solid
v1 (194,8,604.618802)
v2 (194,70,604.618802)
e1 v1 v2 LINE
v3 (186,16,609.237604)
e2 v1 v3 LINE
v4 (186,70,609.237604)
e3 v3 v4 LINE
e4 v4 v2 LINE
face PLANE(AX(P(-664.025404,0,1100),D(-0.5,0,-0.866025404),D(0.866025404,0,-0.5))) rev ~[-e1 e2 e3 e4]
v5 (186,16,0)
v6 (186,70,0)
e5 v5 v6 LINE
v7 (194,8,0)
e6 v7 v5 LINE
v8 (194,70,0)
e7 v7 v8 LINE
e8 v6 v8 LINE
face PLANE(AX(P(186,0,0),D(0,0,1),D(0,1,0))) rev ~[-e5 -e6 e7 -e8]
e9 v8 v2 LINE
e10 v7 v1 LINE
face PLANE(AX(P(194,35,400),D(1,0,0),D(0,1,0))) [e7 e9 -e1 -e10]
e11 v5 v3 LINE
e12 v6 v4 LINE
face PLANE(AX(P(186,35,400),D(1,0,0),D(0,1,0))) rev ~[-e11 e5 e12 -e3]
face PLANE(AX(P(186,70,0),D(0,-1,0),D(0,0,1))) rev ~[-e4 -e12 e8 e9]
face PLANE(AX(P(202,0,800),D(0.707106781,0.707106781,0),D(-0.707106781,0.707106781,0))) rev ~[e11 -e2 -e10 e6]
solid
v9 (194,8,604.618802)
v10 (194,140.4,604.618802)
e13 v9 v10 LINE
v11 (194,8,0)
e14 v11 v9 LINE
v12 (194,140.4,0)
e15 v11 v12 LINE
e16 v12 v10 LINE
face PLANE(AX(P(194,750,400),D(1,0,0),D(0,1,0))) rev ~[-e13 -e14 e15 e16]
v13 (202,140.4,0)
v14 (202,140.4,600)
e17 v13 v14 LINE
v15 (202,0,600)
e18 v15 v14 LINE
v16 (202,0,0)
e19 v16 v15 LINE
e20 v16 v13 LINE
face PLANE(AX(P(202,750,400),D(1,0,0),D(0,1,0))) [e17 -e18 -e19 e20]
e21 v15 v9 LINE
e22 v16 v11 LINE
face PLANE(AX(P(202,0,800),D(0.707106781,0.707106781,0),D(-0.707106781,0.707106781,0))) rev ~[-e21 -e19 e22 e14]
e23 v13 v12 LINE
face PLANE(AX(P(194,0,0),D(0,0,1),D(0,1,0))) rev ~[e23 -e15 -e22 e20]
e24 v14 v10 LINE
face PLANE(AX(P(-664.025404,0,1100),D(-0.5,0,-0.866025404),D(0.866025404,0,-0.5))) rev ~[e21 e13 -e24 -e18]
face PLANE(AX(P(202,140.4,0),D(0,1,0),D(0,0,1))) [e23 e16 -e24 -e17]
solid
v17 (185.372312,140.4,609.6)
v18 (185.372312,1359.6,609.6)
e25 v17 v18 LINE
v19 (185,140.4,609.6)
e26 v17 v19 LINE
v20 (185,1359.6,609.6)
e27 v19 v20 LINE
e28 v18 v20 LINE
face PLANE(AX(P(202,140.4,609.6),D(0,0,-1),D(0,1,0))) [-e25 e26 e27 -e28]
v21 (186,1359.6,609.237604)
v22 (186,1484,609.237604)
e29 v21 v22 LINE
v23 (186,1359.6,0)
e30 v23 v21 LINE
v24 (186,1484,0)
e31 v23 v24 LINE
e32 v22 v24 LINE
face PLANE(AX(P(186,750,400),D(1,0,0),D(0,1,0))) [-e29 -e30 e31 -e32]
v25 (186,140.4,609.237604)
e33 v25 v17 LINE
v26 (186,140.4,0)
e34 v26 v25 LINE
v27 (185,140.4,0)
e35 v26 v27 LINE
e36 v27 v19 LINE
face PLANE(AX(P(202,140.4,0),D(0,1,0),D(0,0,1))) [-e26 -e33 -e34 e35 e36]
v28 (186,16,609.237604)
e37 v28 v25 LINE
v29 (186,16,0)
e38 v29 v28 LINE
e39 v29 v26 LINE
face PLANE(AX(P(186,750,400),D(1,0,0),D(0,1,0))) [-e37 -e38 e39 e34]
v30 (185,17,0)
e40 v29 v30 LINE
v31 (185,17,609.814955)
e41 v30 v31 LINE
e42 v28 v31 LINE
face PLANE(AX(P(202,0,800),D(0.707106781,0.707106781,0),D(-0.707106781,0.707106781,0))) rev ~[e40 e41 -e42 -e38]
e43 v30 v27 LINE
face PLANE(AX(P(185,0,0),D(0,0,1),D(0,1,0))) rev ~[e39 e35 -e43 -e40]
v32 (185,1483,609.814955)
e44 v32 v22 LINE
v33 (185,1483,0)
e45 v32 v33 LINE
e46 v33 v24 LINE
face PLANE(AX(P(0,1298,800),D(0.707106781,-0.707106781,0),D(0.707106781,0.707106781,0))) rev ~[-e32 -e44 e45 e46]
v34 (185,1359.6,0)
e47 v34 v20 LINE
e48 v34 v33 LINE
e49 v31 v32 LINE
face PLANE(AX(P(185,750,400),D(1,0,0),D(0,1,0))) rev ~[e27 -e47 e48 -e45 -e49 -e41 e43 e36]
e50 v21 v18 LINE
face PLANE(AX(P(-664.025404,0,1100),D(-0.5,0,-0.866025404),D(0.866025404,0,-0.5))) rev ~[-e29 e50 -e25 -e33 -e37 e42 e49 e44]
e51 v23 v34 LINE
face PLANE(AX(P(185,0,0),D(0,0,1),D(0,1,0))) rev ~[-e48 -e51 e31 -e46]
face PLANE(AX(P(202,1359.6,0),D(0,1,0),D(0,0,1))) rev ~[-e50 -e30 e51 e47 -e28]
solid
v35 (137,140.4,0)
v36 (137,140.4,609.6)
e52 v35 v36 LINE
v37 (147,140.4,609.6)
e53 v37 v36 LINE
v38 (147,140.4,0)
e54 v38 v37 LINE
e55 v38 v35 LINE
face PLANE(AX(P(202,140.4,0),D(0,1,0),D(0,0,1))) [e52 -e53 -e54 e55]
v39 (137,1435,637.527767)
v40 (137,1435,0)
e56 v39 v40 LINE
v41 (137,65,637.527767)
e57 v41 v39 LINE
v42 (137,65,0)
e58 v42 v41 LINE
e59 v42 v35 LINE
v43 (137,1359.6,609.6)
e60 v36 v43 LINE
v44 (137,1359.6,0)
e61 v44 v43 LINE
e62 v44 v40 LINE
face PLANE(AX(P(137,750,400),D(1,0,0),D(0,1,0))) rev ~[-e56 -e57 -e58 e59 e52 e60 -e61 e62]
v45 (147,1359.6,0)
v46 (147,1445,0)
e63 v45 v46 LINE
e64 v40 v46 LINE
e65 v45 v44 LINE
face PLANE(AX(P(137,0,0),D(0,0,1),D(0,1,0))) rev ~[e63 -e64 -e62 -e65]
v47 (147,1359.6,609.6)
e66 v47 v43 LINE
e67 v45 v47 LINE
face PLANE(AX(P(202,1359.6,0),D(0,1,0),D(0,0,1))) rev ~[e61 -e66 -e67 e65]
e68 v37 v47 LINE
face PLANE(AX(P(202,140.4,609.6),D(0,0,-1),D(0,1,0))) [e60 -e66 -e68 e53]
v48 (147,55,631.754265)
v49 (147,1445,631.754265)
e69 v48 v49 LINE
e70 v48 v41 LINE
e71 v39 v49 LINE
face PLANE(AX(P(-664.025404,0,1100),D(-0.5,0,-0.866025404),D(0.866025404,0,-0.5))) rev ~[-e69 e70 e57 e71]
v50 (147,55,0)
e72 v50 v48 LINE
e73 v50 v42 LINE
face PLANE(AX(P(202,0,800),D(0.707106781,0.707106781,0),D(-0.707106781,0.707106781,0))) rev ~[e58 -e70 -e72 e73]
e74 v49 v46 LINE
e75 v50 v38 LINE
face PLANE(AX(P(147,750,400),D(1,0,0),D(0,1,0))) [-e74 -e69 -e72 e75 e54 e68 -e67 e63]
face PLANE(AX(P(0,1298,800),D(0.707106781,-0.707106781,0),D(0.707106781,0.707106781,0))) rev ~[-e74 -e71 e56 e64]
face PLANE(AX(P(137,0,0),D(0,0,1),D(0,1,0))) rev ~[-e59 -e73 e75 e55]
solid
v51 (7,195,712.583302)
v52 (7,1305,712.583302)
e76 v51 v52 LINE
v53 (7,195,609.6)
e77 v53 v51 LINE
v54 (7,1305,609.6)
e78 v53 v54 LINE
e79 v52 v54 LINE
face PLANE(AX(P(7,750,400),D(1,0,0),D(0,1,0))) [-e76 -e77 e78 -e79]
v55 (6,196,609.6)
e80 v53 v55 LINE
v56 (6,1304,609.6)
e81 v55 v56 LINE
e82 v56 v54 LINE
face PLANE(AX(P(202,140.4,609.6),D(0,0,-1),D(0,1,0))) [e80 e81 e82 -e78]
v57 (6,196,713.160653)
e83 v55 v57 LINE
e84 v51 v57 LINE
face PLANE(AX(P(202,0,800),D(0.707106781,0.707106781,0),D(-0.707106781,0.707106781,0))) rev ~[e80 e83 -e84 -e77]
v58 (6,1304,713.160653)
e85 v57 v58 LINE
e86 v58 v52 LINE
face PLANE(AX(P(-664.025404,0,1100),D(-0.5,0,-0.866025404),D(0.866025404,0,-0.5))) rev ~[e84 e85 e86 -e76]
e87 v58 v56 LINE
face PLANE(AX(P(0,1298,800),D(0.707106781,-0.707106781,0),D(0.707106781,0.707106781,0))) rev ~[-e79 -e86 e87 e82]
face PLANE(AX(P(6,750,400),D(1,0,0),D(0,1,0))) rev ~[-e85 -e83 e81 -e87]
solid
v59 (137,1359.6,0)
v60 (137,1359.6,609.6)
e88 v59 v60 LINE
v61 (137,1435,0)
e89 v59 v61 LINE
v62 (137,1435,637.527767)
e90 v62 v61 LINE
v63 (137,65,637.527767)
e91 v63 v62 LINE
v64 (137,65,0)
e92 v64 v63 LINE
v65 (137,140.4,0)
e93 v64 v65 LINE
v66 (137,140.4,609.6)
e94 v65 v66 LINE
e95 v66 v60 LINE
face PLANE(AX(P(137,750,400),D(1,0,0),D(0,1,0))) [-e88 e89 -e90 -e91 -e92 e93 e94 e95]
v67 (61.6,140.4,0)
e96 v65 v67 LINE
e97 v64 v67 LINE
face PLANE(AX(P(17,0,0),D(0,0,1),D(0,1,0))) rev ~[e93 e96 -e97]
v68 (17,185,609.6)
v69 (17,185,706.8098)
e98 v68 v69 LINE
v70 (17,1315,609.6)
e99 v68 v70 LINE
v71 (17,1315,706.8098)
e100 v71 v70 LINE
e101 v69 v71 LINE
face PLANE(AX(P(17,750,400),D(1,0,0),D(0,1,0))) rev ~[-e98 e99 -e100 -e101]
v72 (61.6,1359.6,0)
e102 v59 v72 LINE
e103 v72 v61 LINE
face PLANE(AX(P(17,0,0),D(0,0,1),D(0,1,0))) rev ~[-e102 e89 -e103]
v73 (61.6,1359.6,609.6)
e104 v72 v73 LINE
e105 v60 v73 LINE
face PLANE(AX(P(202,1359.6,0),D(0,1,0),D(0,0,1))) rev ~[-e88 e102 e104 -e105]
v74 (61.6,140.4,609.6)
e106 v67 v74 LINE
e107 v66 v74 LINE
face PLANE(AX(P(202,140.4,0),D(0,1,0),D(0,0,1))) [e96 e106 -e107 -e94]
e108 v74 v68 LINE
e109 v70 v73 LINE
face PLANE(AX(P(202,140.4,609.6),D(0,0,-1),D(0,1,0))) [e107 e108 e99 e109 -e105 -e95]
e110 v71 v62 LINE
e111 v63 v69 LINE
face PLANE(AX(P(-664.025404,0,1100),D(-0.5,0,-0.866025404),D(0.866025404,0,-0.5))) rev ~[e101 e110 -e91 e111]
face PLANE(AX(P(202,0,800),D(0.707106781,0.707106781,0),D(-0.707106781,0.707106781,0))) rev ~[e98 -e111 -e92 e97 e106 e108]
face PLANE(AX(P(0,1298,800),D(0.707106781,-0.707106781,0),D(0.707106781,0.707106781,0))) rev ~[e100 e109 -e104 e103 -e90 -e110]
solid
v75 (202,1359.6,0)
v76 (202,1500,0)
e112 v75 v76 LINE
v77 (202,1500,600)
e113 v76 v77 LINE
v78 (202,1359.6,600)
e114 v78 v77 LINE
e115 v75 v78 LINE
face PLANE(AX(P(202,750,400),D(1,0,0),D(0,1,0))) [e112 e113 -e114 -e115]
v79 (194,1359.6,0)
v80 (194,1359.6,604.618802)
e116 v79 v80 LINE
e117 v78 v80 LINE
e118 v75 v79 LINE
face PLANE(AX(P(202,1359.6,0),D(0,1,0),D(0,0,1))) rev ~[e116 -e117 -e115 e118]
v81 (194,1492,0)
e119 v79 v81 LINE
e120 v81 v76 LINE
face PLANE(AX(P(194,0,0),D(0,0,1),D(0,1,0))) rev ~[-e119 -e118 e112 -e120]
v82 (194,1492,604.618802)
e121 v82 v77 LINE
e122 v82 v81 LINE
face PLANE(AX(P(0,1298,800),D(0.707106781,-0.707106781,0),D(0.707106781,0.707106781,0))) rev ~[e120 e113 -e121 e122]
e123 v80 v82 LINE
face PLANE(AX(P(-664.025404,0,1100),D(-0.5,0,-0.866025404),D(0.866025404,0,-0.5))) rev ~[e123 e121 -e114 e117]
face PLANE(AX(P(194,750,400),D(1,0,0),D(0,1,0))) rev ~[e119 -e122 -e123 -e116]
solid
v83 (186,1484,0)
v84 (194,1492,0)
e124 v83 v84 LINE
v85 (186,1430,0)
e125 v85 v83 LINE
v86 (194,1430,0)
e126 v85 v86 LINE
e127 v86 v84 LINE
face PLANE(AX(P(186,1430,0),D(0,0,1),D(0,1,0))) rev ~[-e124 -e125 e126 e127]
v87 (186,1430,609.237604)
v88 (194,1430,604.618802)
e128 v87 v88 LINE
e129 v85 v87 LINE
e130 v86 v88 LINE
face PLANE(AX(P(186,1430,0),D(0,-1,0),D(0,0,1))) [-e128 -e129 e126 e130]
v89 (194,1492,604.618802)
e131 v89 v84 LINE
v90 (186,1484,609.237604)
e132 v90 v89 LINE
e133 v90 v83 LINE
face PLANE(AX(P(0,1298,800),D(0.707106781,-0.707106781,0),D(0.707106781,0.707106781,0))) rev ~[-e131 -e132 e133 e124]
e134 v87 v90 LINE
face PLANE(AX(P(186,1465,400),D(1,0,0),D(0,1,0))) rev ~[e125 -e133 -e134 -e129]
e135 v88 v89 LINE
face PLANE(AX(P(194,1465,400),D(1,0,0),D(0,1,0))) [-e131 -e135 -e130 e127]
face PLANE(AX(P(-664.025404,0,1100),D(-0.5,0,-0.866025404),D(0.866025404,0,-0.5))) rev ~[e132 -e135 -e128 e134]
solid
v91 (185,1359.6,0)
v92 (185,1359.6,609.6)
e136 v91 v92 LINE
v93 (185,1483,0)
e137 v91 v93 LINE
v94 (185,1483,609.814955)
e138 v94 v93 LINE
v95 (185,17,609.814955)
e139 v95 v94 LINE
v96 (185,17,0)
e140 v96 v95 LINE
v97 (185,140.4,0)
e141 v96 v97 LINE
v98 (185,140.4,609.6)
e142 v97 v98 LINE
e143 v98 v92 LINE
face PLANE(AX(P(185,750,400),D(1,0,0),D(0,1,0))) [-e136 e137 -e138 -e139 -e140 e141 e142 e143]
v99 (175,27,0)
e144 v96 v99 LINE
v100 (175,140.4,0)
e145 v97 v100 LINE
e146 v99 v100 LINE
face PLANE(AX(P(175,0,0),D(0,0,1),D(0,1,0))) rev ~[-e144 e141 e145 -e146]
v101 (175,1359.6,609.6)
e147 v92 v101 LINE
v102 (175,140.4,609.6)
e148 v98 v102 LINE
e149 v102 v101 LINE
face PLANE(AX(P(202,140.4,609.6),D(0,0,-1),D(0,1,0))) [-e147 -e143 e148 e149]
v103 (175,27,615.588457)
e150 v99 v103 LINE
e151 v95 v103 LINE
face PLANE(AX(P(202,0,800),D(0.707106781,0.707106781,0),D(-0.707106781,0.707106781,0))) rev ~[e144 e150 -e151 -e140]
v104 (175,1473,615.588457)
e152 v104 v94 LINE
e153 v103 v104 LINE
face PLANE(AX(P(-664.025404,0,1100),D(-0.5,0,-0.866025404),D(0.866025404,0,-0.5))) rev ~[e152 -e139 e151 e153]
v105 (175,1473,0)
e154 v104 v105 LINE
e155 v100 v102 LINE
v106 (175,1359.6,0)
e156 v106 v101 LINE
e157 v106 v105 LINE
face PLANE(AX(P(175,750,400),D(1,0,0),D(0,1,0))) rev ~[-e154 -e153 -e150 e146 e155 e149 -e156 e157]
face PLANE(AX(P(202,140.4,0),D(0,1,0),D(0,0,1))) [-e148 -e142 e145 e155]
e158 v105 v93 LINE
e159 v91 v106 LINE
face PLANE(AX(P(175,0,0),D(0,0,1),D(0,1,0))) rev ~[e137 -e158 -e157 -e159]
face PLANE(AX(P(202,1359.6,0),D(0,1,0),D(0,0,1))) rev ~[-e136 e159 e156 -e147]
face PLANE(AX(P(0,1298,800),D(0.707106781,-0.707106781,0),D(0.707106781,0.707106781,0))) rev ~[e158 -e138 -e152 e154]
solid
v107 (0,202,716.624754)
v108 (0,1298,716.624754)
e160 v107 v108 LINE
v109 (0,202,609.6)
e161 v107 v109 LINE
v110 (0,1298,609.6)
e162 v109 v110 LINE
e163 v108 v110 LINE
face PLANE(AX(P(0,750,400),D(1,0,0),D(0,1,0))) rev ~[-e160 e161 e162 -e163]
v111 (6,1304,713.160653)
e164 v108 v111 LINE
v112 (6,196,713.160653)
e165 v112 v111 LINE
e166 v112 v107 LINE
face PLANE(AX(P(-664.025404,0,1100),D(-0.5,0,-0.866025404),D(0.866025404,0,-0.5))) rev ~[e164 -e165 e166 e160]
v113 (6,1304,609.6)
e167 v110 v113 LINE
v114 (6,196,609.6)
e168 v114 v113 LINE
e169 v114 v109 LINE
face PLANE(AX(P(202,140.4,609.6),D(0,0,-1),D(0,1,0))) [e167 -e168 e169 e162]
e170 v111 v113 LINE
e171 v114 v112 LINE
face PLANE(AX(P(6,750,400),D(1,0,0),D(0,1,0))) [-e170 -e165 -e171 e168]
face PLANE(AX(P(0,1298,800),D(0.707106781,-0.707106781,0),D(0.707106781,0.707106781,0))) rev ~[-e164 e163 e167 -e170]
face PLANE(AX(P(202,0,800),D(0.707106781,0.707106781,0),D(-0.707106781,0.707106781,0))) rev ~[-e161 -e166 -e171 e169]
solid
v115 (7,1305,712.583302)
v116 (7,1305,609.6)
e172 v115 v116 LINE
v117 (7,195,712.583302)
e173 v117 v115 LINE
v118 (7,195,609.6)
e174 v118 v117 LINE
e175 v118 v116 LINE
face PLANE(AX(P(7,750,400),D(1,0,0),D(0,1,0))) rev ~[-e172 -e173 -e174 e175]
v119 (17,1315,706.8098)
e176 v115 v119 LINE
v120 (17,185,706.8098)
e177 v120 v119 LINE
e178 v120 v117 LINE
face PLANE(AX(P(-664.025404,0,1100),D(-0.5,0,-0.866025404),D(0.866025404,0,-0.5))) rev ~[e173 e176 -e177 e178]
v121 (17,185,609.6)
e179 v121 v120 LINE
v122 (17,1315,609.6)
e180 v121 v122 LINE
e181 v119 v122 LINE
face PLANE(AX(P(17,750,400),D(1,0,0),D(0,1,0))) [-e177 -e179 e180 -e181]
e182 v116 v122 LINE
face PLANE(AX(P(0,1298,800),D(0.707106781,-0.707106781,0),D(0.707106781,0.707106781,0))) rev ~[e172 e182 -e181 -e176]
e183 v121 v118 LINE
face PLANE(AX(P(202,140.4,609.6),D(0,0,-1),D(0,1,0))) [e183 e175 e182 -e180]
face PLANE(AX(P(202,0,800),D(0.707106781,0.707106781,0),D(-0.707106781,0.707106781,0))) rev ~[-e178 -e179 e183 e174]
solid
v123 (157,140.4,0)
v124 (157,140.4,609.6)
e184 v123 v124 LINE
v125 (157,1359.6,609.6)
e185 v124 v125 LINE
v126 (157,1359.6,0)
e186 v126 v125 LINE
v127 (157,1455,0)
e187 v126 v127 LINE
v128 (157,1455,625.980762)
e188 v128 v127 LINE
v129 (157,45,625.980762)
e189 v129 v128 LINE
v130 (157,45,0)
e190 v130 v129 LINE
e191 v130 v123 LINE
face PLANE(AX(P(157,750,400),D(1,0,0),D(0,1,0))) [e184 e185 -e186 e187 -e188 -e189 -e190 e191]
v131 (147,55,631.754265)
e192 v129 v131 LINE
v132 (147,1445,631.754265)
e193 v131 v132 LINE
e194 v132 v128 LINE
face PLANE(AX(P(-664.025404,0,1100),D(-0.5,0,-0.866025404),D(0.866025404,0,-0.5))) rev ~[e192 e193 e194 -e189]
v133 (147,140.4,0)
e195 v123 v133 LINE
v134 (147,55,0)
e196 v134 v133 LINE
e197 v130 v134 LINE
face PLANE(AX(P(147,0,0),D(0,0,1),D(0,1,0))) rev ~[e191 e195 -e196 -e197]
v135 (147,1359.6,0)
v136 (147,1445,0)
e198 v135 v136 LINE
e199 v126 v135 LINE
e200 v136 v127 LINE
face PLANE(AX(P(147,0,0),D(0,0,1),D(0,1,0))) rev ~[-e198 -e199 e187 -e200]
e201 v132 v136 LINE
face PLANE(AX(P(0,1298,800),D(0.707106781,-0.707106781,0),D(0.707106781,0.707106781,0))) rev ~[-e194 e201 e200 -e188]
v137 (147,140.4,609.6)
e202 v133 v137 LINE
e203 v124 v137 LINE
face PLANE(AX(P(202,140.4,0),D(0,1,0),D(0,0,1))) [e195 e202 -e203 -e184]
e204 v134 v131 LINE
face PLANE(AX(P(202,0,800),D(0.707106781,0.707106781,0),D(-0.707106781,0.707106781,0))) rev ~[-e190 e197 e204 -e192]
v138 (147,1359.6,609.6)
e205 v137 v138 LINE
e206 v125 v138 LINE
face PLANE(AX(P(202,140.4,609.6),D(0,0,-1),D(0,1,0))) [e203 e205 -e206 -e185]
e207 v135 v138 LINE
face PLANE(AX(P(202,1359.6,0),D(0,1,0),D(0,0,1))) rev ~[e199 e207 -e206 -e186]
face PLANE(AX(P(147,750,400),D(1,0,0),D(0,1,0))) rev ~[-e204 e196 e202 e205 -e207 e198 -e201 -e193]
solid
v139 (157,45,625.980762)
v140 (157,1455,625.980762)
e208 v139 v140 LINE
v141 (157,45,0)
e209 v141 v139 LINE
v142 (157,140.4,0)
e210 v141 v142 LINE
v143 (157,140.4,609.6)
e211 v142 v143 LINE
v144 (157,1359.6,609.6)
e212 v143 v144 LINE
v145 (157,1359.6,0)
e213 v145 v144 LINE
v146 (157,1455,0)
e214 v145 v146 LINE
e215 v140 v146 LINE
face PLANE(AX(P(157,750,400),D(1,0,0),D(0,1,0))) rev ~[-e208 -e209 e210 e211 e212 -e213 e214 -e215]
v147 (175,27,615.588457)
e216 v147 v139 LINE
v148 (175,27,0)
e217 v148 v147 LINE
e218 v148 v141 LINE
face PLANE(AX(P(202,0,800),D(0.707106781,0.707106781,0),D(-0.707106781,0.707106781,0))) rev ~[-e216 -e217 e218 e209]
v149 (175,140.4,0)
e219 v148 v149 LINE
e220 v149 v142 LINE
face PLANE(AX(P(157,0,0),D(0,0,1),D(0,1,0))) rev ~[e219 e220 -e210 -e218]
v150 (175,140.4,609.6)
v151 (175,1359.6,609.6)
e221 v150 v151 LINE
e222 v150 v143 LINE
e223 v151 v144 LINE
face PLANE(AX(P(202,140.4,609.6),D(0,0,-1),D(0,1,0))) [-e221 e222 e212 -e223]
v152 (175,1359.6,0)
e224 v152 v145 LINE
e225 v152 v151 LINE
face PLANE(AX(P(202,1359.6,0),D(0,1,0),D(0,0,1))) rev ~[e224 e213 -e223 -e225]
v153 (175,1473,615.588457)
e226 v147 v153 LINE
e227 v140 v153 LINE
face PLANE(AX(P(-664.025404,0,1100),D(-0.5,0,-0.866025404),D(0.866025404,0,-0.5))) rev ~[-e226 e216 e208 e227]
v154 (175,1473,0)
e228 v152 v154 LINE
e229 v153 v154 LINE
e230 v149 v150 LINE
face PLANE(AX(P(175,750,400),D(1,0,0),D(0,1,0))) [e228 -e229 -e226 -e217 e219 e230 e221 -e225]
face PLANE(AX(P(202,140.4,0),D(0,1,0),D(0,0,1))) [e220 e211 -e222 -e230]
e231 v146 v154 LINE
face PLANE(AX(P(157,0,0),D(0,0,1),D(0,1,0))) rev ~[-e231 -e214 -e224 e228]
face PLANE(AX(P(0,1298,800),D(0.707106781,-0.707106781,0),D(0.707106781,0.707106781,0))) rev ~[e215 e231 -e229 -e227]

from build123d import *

# Parameters (mm, degrees)
F0_W      = 1500
F0_H      = 800
F1_DEPTH  = 6
F2_DEPTH  = 1
F3_DEPTH  = 10
F4_DEPTH  = 120
F5_DEPTH  = 10
F6_DEPTH  = 10
F7_DEPTH  = 18
F8_DEPTH  = 10
F9_DEPTH  = 1
F10_W     = 70
F10_H     = 800
F11_DEPTH = 8
F12_W     = 1500
F12_H     = 800
F13_DEPTH = 8
F15_DEPTH = 800.001
F16_W     = 1219.2
F16_H     = 609.6
F17_DEPTH = 202.001
F19_DEPTH = 1500.001


with BuildPart() as f1:
    # F0 (on Right) → F1 (new body)
    with BuildSketch(Plane.YZ):
        with Locations((750, 400)):
            Rectangle(F0_W, F0_H)
    extrude(amount=F1_DEPTH)


with BuildPart() as f2:
    # F2 (new): a face of the model
    f2_faces = [f1.part.faces().sort_by_distance(p)[0] for p in [
        (6, 750, 400),
    ]]
    extrude(f2_faces, amount=F2_DEPTH)


with BuildPart() as f3:
    # F3 (new): a face of the model
    f3_faces = [f2.part.faces().sort_by_distance(p)[0] for p in [
        (7, 750, 400),
    ]]
    extrude(f3_faces, amount=F3_DEPTH)


with BuildPart() as f4:
    # F4 (new): a face of the model
    f4_faces = [f3.part.faces().sort_by_distance(p)[0] for p in [
        (17, 750, 400),
    ]]
    extrude(f4_faces, amount=F4_DEPTH)


with BuildPart() as f5:
    # F5 (new): a face of the model
    f5_faces = [f4.part.faces().sort_by_distance(p)[0] for p in [
        (137, 750, 400),
    ]]
    extrude(f5_faces, amount=F5_DEPTH)


with BuildPart() as f6:
    # F6 (new): a face of the model
    f6_faces = [f5.part.faces().sort_by_distance(p)[0] for p in [
        (147, 750, 400),
    ]]
    extrude(f6_faces, amount=F6_DEPTH)


with BuildPart() as f7:
    # F7 (new): a face of the model
    f7_faces = [f6.part.faces().sort_by_distance(p)[0] for p in [
        (157, 750, 400),
    ]]
    extrude(f7_faces, amount=F7_DEPTH)


with BuildPart() as f8:
    # F8 (new): a face of the model
    f8_faces = [f7.part.faces().sort_by_distance(p)[0] for p in [
        (175, 750, 400),
    ]]
    extrude(f8_faces, amount=F8_DEPTH)


with BuildPart() as f9:
    # F9 (new): a face of the model
    f9_faces = [f8.part.faces().sort_by_distance(p)[0] for p in [
        (185, 750, 400),
    ]]
    extrude(f9_faces, amount=F9_DEPTH)


with BuildPart() as f11:
    # F10 (on face) → F11 (new body)
    with BuildSketch(Plane.YZ.offset(186)):
        with Locations((35, 400)):
            Rectangle(F10_W, F10_H)
    extrude(amount=F11_DEPTH)


with BuildPart() as f11b:
    # F10 (on face) → F11, piece 2 (new body)
    with BuildSketch(Plane.YZ.offset(186)):
        with Locations((1465, 400)):
            Rectangle(F10_W, F10_H)
    extrude(amount=F11_DEPTH)


with BuildPart() as f13:
    # F12 (on face) → F13 (new body)
    with BuildSketch(Plane.YZ.offset(194)):
        with Locations((750, 400)):
            Rectangle(F12_W, F12_H)
    extrude(amount=F13_DEPTH)


with BuildPart() as f15_tool:
    # F14 (on face) → F15 (new body, through all)
    with BuildSketch(Plane.XY.offset(800)):
        Polygon((0, 1298), (202, 1500), (0, 1500), align=None)
        Polygon((202, 0), (0, 202), (0, 0), align=None)
    extrude(amount=-F15_DEPTH)


with BuildPart() as f1_1:
    add(f1.part)

    # F15: cut by f15_tool
    add(f15_tool.part, mode=Mode.SUBTRACT)


with BuildPart() as f2_1:
    add(f2.part)

    # F15: cut by f15_tool
    add(f15_tool.part, mode=Mode.SUBTRACT)


with BuildPart() as f3_1:
    add(f3.part)

    # F15: cut by f15_tool
    add(f15_tool.part, mode=Mode.SUBTRACT)


with BuildPart() as f4_1:
    add(f4.part)

    # F15: cut by f15_tool
    add(f15_tool.part, mode=Mode.SUBTRACT)


with BuildPart() as f5_1:
    add(f5.part)

    # F15: cut by f15_tool
    add(f15_tool.part, mode=Mode.SUBTRACT)


with BuildPart() as f6_1:
    add(f6.part)

    # F15: cut by f15_tool
    add(f15_tool.part, mode=Mode.SUBTRACT)


with BuildPart() as f7_1:
    add(f7.part)

    # F15: cut by f15_tool
    add(f15_tool.part, mode=Mode.SUBTRACT)


with BuildPart() as f8_1:
    add(f8.part)

    # F15: cut by f15_tool
    add(f15_tool.part, mode=Mode.SUBTRACT)


with BuildPart() as f9_1:
    add(f9.part)

    # F15: cut by f15_tool
    add(f15_tool.part, mode=Mode.SUBTRACT)


with BuildPart() as f11_1:
    add(f11.part)

    # F15: cut by f15_tool
    add(f15_tool.part, mode=Mode.SUBTRACT)


with BuildPart() as f11b_1:
    add(f11b.part)

    # F15: cut by f15_tool
    add(f15_tool.part, mode=Mode.SUBTRACT)


with BuildPart() as f13_1:
    add(f13.part)

    # F15: cut by f15_tool
    add(f15_tool.part, mode=Mode.SUBTRACT)


with BuildPart() as f17_tool:
    # F16 (on face) → F17 (new body, through all)
    with BuildSketch(Plane.YZ.offset(202)):
        with Locations((750, 304.8)):
            Rectangle(F16_W, F16_H)
    extrude(amount=-F17_DEPTH)


with BuildPart() as f1_2:
    add(f1_1.part)

    # F17: cut by f17_tool
    add(f17_tool.part, mode=Mode.SUBTRACT)


with BuildPart() as f2_2:
    add(f2_1.part)

    # F17: cut by f17_tool
    add(f17_tool.part, mode=Mode.SUBTRACT)


with BuildPart() as f3_2:
    add(f3_1.part)

    # F17: cut by f17_tool
    add(f17_tool.part, mode=Mode.SUBTRACT)


with BuildPart() as f4_2:
    add(f4_1.part)

    # F17: cut by f17_tool
    add(f17_tool.part, mode=Mode.SUBTRACT)


with BuildPart() as f5_2:
    add(f5_1.part)

    # F17: cut by f17_tool
    add(f17_tool.part, mode=Mode.SUBTRACT)


with BuildPart() as f6_2:
    add(f6_1.part)

    # F17: cut by f17_tool
    add(f17_tool.part, mode=Mode.SUBTRACT)


with BuildPart() as f7_2:
    add(f7_1.part)

    # F17: cut by f17_tool
    add(f17_tool.part, mode=Mode.SUBTRACT)


with BuildPart() as f8_2:
    add(f8_1.part)

    # F17: cut by f17_tool
    add(f17_tool.part, mode=Mode.SUBTRACT)


with BuildPart() as f9_2:
    add(f9_1.part)

    # F17: cut by f17_tool
    add(f17_tool.part, mode=Mode.SUBTRACT)


with BuildPart() as f13_2:
    add(f13_1.part)

    # F17: cut by f17_tool
    add(f17_tool.part, mode=Mode.SUBTRACT)


with BuildPart() as f19_tool:
    # F18 (on Front) → F19 (new body, through all)
    with BuildSketch(Plane.XZ):
        Polygon((202, 1100), (-664.0254037844, 1100), (202, 600), align=None)
    extrude(amount=-F19_DEPTH)


with BuildPart() as f1_3:
    add(f1_2.part)

    # F19: cut by f19_tool
    add(f19_tool.part, mode=Mode.SUBTRACT)


with BuildPart() as f2_3:
    add(f2_2.part)

    # F19: cut by f19_tool
    add(f19_tool.part, mode=Mode.SUBTRACT)


with BuildPart() as f3_3:
    add(f3_2.part)

    # F19: cut by f19_tool
    add(f19_tool.part, mode=Mode.SUBTRACT)


with BuildPart() as f4_3:
    add(f4_2.part)

    # F19: cut by f19_tool
    add(f19_tool.part, mode=Mode.SUBTRACT)


with BuildPart() as f5_3:
    add(f5_2.part)

    # F19: cut by f19_tool
    add(f19_tool.part, mode=Mode.SUBTRACT)


with BuildPart() as f6_3:
    add(f6_2.part)

    # F19: cut by f19_tool
    add(f19_tool.part, mode=Mode.SUBTRACT)


with BuildPart() as f7_3:
    add(f7_2.part)

    # F19: cut by f19_tool
    add(f19_tool.part, mode=Mode.SUBTRACT)


with BuildPart() as f8_3:
    add(f8_2.part)

    # F19: cut by f19_tool
    add(f19_tool.part, mode=Mode.SUBTRACT)


with BuildPart() as f9_3:
    add(f9_2.part)

    # F19: cut by f19_tool
    add(f19_tool.part, mode=Mode.SUBTRACT)


with BuildPart() as f11_2:
    add(f11_1.part)

    # F19: cut by f19_tool
    add(f19_tool.part, mode=Mode.SUBTRACT)


with BuildPart() as f11b_2:
    add(f11b_1.part)

    # F19: cut by f19_tool
    add(f19_tool.part, mode=Mode.SUBTRACT)


with BuildPart() as f13_3:
    add(f13_2.part)

    # F19: cut by f19_tool
    add(f19_tool.part, mode=Mode.SUBTRACT)


solid = Compound([f1_3.part, f2_3.part, f3_3.part, f4_3.part, f5_3.part, f6_3.part, f7_3.part, f8_3.part, f9_3.part, f11_2.part, f11b_2.part, f13_3.part])
